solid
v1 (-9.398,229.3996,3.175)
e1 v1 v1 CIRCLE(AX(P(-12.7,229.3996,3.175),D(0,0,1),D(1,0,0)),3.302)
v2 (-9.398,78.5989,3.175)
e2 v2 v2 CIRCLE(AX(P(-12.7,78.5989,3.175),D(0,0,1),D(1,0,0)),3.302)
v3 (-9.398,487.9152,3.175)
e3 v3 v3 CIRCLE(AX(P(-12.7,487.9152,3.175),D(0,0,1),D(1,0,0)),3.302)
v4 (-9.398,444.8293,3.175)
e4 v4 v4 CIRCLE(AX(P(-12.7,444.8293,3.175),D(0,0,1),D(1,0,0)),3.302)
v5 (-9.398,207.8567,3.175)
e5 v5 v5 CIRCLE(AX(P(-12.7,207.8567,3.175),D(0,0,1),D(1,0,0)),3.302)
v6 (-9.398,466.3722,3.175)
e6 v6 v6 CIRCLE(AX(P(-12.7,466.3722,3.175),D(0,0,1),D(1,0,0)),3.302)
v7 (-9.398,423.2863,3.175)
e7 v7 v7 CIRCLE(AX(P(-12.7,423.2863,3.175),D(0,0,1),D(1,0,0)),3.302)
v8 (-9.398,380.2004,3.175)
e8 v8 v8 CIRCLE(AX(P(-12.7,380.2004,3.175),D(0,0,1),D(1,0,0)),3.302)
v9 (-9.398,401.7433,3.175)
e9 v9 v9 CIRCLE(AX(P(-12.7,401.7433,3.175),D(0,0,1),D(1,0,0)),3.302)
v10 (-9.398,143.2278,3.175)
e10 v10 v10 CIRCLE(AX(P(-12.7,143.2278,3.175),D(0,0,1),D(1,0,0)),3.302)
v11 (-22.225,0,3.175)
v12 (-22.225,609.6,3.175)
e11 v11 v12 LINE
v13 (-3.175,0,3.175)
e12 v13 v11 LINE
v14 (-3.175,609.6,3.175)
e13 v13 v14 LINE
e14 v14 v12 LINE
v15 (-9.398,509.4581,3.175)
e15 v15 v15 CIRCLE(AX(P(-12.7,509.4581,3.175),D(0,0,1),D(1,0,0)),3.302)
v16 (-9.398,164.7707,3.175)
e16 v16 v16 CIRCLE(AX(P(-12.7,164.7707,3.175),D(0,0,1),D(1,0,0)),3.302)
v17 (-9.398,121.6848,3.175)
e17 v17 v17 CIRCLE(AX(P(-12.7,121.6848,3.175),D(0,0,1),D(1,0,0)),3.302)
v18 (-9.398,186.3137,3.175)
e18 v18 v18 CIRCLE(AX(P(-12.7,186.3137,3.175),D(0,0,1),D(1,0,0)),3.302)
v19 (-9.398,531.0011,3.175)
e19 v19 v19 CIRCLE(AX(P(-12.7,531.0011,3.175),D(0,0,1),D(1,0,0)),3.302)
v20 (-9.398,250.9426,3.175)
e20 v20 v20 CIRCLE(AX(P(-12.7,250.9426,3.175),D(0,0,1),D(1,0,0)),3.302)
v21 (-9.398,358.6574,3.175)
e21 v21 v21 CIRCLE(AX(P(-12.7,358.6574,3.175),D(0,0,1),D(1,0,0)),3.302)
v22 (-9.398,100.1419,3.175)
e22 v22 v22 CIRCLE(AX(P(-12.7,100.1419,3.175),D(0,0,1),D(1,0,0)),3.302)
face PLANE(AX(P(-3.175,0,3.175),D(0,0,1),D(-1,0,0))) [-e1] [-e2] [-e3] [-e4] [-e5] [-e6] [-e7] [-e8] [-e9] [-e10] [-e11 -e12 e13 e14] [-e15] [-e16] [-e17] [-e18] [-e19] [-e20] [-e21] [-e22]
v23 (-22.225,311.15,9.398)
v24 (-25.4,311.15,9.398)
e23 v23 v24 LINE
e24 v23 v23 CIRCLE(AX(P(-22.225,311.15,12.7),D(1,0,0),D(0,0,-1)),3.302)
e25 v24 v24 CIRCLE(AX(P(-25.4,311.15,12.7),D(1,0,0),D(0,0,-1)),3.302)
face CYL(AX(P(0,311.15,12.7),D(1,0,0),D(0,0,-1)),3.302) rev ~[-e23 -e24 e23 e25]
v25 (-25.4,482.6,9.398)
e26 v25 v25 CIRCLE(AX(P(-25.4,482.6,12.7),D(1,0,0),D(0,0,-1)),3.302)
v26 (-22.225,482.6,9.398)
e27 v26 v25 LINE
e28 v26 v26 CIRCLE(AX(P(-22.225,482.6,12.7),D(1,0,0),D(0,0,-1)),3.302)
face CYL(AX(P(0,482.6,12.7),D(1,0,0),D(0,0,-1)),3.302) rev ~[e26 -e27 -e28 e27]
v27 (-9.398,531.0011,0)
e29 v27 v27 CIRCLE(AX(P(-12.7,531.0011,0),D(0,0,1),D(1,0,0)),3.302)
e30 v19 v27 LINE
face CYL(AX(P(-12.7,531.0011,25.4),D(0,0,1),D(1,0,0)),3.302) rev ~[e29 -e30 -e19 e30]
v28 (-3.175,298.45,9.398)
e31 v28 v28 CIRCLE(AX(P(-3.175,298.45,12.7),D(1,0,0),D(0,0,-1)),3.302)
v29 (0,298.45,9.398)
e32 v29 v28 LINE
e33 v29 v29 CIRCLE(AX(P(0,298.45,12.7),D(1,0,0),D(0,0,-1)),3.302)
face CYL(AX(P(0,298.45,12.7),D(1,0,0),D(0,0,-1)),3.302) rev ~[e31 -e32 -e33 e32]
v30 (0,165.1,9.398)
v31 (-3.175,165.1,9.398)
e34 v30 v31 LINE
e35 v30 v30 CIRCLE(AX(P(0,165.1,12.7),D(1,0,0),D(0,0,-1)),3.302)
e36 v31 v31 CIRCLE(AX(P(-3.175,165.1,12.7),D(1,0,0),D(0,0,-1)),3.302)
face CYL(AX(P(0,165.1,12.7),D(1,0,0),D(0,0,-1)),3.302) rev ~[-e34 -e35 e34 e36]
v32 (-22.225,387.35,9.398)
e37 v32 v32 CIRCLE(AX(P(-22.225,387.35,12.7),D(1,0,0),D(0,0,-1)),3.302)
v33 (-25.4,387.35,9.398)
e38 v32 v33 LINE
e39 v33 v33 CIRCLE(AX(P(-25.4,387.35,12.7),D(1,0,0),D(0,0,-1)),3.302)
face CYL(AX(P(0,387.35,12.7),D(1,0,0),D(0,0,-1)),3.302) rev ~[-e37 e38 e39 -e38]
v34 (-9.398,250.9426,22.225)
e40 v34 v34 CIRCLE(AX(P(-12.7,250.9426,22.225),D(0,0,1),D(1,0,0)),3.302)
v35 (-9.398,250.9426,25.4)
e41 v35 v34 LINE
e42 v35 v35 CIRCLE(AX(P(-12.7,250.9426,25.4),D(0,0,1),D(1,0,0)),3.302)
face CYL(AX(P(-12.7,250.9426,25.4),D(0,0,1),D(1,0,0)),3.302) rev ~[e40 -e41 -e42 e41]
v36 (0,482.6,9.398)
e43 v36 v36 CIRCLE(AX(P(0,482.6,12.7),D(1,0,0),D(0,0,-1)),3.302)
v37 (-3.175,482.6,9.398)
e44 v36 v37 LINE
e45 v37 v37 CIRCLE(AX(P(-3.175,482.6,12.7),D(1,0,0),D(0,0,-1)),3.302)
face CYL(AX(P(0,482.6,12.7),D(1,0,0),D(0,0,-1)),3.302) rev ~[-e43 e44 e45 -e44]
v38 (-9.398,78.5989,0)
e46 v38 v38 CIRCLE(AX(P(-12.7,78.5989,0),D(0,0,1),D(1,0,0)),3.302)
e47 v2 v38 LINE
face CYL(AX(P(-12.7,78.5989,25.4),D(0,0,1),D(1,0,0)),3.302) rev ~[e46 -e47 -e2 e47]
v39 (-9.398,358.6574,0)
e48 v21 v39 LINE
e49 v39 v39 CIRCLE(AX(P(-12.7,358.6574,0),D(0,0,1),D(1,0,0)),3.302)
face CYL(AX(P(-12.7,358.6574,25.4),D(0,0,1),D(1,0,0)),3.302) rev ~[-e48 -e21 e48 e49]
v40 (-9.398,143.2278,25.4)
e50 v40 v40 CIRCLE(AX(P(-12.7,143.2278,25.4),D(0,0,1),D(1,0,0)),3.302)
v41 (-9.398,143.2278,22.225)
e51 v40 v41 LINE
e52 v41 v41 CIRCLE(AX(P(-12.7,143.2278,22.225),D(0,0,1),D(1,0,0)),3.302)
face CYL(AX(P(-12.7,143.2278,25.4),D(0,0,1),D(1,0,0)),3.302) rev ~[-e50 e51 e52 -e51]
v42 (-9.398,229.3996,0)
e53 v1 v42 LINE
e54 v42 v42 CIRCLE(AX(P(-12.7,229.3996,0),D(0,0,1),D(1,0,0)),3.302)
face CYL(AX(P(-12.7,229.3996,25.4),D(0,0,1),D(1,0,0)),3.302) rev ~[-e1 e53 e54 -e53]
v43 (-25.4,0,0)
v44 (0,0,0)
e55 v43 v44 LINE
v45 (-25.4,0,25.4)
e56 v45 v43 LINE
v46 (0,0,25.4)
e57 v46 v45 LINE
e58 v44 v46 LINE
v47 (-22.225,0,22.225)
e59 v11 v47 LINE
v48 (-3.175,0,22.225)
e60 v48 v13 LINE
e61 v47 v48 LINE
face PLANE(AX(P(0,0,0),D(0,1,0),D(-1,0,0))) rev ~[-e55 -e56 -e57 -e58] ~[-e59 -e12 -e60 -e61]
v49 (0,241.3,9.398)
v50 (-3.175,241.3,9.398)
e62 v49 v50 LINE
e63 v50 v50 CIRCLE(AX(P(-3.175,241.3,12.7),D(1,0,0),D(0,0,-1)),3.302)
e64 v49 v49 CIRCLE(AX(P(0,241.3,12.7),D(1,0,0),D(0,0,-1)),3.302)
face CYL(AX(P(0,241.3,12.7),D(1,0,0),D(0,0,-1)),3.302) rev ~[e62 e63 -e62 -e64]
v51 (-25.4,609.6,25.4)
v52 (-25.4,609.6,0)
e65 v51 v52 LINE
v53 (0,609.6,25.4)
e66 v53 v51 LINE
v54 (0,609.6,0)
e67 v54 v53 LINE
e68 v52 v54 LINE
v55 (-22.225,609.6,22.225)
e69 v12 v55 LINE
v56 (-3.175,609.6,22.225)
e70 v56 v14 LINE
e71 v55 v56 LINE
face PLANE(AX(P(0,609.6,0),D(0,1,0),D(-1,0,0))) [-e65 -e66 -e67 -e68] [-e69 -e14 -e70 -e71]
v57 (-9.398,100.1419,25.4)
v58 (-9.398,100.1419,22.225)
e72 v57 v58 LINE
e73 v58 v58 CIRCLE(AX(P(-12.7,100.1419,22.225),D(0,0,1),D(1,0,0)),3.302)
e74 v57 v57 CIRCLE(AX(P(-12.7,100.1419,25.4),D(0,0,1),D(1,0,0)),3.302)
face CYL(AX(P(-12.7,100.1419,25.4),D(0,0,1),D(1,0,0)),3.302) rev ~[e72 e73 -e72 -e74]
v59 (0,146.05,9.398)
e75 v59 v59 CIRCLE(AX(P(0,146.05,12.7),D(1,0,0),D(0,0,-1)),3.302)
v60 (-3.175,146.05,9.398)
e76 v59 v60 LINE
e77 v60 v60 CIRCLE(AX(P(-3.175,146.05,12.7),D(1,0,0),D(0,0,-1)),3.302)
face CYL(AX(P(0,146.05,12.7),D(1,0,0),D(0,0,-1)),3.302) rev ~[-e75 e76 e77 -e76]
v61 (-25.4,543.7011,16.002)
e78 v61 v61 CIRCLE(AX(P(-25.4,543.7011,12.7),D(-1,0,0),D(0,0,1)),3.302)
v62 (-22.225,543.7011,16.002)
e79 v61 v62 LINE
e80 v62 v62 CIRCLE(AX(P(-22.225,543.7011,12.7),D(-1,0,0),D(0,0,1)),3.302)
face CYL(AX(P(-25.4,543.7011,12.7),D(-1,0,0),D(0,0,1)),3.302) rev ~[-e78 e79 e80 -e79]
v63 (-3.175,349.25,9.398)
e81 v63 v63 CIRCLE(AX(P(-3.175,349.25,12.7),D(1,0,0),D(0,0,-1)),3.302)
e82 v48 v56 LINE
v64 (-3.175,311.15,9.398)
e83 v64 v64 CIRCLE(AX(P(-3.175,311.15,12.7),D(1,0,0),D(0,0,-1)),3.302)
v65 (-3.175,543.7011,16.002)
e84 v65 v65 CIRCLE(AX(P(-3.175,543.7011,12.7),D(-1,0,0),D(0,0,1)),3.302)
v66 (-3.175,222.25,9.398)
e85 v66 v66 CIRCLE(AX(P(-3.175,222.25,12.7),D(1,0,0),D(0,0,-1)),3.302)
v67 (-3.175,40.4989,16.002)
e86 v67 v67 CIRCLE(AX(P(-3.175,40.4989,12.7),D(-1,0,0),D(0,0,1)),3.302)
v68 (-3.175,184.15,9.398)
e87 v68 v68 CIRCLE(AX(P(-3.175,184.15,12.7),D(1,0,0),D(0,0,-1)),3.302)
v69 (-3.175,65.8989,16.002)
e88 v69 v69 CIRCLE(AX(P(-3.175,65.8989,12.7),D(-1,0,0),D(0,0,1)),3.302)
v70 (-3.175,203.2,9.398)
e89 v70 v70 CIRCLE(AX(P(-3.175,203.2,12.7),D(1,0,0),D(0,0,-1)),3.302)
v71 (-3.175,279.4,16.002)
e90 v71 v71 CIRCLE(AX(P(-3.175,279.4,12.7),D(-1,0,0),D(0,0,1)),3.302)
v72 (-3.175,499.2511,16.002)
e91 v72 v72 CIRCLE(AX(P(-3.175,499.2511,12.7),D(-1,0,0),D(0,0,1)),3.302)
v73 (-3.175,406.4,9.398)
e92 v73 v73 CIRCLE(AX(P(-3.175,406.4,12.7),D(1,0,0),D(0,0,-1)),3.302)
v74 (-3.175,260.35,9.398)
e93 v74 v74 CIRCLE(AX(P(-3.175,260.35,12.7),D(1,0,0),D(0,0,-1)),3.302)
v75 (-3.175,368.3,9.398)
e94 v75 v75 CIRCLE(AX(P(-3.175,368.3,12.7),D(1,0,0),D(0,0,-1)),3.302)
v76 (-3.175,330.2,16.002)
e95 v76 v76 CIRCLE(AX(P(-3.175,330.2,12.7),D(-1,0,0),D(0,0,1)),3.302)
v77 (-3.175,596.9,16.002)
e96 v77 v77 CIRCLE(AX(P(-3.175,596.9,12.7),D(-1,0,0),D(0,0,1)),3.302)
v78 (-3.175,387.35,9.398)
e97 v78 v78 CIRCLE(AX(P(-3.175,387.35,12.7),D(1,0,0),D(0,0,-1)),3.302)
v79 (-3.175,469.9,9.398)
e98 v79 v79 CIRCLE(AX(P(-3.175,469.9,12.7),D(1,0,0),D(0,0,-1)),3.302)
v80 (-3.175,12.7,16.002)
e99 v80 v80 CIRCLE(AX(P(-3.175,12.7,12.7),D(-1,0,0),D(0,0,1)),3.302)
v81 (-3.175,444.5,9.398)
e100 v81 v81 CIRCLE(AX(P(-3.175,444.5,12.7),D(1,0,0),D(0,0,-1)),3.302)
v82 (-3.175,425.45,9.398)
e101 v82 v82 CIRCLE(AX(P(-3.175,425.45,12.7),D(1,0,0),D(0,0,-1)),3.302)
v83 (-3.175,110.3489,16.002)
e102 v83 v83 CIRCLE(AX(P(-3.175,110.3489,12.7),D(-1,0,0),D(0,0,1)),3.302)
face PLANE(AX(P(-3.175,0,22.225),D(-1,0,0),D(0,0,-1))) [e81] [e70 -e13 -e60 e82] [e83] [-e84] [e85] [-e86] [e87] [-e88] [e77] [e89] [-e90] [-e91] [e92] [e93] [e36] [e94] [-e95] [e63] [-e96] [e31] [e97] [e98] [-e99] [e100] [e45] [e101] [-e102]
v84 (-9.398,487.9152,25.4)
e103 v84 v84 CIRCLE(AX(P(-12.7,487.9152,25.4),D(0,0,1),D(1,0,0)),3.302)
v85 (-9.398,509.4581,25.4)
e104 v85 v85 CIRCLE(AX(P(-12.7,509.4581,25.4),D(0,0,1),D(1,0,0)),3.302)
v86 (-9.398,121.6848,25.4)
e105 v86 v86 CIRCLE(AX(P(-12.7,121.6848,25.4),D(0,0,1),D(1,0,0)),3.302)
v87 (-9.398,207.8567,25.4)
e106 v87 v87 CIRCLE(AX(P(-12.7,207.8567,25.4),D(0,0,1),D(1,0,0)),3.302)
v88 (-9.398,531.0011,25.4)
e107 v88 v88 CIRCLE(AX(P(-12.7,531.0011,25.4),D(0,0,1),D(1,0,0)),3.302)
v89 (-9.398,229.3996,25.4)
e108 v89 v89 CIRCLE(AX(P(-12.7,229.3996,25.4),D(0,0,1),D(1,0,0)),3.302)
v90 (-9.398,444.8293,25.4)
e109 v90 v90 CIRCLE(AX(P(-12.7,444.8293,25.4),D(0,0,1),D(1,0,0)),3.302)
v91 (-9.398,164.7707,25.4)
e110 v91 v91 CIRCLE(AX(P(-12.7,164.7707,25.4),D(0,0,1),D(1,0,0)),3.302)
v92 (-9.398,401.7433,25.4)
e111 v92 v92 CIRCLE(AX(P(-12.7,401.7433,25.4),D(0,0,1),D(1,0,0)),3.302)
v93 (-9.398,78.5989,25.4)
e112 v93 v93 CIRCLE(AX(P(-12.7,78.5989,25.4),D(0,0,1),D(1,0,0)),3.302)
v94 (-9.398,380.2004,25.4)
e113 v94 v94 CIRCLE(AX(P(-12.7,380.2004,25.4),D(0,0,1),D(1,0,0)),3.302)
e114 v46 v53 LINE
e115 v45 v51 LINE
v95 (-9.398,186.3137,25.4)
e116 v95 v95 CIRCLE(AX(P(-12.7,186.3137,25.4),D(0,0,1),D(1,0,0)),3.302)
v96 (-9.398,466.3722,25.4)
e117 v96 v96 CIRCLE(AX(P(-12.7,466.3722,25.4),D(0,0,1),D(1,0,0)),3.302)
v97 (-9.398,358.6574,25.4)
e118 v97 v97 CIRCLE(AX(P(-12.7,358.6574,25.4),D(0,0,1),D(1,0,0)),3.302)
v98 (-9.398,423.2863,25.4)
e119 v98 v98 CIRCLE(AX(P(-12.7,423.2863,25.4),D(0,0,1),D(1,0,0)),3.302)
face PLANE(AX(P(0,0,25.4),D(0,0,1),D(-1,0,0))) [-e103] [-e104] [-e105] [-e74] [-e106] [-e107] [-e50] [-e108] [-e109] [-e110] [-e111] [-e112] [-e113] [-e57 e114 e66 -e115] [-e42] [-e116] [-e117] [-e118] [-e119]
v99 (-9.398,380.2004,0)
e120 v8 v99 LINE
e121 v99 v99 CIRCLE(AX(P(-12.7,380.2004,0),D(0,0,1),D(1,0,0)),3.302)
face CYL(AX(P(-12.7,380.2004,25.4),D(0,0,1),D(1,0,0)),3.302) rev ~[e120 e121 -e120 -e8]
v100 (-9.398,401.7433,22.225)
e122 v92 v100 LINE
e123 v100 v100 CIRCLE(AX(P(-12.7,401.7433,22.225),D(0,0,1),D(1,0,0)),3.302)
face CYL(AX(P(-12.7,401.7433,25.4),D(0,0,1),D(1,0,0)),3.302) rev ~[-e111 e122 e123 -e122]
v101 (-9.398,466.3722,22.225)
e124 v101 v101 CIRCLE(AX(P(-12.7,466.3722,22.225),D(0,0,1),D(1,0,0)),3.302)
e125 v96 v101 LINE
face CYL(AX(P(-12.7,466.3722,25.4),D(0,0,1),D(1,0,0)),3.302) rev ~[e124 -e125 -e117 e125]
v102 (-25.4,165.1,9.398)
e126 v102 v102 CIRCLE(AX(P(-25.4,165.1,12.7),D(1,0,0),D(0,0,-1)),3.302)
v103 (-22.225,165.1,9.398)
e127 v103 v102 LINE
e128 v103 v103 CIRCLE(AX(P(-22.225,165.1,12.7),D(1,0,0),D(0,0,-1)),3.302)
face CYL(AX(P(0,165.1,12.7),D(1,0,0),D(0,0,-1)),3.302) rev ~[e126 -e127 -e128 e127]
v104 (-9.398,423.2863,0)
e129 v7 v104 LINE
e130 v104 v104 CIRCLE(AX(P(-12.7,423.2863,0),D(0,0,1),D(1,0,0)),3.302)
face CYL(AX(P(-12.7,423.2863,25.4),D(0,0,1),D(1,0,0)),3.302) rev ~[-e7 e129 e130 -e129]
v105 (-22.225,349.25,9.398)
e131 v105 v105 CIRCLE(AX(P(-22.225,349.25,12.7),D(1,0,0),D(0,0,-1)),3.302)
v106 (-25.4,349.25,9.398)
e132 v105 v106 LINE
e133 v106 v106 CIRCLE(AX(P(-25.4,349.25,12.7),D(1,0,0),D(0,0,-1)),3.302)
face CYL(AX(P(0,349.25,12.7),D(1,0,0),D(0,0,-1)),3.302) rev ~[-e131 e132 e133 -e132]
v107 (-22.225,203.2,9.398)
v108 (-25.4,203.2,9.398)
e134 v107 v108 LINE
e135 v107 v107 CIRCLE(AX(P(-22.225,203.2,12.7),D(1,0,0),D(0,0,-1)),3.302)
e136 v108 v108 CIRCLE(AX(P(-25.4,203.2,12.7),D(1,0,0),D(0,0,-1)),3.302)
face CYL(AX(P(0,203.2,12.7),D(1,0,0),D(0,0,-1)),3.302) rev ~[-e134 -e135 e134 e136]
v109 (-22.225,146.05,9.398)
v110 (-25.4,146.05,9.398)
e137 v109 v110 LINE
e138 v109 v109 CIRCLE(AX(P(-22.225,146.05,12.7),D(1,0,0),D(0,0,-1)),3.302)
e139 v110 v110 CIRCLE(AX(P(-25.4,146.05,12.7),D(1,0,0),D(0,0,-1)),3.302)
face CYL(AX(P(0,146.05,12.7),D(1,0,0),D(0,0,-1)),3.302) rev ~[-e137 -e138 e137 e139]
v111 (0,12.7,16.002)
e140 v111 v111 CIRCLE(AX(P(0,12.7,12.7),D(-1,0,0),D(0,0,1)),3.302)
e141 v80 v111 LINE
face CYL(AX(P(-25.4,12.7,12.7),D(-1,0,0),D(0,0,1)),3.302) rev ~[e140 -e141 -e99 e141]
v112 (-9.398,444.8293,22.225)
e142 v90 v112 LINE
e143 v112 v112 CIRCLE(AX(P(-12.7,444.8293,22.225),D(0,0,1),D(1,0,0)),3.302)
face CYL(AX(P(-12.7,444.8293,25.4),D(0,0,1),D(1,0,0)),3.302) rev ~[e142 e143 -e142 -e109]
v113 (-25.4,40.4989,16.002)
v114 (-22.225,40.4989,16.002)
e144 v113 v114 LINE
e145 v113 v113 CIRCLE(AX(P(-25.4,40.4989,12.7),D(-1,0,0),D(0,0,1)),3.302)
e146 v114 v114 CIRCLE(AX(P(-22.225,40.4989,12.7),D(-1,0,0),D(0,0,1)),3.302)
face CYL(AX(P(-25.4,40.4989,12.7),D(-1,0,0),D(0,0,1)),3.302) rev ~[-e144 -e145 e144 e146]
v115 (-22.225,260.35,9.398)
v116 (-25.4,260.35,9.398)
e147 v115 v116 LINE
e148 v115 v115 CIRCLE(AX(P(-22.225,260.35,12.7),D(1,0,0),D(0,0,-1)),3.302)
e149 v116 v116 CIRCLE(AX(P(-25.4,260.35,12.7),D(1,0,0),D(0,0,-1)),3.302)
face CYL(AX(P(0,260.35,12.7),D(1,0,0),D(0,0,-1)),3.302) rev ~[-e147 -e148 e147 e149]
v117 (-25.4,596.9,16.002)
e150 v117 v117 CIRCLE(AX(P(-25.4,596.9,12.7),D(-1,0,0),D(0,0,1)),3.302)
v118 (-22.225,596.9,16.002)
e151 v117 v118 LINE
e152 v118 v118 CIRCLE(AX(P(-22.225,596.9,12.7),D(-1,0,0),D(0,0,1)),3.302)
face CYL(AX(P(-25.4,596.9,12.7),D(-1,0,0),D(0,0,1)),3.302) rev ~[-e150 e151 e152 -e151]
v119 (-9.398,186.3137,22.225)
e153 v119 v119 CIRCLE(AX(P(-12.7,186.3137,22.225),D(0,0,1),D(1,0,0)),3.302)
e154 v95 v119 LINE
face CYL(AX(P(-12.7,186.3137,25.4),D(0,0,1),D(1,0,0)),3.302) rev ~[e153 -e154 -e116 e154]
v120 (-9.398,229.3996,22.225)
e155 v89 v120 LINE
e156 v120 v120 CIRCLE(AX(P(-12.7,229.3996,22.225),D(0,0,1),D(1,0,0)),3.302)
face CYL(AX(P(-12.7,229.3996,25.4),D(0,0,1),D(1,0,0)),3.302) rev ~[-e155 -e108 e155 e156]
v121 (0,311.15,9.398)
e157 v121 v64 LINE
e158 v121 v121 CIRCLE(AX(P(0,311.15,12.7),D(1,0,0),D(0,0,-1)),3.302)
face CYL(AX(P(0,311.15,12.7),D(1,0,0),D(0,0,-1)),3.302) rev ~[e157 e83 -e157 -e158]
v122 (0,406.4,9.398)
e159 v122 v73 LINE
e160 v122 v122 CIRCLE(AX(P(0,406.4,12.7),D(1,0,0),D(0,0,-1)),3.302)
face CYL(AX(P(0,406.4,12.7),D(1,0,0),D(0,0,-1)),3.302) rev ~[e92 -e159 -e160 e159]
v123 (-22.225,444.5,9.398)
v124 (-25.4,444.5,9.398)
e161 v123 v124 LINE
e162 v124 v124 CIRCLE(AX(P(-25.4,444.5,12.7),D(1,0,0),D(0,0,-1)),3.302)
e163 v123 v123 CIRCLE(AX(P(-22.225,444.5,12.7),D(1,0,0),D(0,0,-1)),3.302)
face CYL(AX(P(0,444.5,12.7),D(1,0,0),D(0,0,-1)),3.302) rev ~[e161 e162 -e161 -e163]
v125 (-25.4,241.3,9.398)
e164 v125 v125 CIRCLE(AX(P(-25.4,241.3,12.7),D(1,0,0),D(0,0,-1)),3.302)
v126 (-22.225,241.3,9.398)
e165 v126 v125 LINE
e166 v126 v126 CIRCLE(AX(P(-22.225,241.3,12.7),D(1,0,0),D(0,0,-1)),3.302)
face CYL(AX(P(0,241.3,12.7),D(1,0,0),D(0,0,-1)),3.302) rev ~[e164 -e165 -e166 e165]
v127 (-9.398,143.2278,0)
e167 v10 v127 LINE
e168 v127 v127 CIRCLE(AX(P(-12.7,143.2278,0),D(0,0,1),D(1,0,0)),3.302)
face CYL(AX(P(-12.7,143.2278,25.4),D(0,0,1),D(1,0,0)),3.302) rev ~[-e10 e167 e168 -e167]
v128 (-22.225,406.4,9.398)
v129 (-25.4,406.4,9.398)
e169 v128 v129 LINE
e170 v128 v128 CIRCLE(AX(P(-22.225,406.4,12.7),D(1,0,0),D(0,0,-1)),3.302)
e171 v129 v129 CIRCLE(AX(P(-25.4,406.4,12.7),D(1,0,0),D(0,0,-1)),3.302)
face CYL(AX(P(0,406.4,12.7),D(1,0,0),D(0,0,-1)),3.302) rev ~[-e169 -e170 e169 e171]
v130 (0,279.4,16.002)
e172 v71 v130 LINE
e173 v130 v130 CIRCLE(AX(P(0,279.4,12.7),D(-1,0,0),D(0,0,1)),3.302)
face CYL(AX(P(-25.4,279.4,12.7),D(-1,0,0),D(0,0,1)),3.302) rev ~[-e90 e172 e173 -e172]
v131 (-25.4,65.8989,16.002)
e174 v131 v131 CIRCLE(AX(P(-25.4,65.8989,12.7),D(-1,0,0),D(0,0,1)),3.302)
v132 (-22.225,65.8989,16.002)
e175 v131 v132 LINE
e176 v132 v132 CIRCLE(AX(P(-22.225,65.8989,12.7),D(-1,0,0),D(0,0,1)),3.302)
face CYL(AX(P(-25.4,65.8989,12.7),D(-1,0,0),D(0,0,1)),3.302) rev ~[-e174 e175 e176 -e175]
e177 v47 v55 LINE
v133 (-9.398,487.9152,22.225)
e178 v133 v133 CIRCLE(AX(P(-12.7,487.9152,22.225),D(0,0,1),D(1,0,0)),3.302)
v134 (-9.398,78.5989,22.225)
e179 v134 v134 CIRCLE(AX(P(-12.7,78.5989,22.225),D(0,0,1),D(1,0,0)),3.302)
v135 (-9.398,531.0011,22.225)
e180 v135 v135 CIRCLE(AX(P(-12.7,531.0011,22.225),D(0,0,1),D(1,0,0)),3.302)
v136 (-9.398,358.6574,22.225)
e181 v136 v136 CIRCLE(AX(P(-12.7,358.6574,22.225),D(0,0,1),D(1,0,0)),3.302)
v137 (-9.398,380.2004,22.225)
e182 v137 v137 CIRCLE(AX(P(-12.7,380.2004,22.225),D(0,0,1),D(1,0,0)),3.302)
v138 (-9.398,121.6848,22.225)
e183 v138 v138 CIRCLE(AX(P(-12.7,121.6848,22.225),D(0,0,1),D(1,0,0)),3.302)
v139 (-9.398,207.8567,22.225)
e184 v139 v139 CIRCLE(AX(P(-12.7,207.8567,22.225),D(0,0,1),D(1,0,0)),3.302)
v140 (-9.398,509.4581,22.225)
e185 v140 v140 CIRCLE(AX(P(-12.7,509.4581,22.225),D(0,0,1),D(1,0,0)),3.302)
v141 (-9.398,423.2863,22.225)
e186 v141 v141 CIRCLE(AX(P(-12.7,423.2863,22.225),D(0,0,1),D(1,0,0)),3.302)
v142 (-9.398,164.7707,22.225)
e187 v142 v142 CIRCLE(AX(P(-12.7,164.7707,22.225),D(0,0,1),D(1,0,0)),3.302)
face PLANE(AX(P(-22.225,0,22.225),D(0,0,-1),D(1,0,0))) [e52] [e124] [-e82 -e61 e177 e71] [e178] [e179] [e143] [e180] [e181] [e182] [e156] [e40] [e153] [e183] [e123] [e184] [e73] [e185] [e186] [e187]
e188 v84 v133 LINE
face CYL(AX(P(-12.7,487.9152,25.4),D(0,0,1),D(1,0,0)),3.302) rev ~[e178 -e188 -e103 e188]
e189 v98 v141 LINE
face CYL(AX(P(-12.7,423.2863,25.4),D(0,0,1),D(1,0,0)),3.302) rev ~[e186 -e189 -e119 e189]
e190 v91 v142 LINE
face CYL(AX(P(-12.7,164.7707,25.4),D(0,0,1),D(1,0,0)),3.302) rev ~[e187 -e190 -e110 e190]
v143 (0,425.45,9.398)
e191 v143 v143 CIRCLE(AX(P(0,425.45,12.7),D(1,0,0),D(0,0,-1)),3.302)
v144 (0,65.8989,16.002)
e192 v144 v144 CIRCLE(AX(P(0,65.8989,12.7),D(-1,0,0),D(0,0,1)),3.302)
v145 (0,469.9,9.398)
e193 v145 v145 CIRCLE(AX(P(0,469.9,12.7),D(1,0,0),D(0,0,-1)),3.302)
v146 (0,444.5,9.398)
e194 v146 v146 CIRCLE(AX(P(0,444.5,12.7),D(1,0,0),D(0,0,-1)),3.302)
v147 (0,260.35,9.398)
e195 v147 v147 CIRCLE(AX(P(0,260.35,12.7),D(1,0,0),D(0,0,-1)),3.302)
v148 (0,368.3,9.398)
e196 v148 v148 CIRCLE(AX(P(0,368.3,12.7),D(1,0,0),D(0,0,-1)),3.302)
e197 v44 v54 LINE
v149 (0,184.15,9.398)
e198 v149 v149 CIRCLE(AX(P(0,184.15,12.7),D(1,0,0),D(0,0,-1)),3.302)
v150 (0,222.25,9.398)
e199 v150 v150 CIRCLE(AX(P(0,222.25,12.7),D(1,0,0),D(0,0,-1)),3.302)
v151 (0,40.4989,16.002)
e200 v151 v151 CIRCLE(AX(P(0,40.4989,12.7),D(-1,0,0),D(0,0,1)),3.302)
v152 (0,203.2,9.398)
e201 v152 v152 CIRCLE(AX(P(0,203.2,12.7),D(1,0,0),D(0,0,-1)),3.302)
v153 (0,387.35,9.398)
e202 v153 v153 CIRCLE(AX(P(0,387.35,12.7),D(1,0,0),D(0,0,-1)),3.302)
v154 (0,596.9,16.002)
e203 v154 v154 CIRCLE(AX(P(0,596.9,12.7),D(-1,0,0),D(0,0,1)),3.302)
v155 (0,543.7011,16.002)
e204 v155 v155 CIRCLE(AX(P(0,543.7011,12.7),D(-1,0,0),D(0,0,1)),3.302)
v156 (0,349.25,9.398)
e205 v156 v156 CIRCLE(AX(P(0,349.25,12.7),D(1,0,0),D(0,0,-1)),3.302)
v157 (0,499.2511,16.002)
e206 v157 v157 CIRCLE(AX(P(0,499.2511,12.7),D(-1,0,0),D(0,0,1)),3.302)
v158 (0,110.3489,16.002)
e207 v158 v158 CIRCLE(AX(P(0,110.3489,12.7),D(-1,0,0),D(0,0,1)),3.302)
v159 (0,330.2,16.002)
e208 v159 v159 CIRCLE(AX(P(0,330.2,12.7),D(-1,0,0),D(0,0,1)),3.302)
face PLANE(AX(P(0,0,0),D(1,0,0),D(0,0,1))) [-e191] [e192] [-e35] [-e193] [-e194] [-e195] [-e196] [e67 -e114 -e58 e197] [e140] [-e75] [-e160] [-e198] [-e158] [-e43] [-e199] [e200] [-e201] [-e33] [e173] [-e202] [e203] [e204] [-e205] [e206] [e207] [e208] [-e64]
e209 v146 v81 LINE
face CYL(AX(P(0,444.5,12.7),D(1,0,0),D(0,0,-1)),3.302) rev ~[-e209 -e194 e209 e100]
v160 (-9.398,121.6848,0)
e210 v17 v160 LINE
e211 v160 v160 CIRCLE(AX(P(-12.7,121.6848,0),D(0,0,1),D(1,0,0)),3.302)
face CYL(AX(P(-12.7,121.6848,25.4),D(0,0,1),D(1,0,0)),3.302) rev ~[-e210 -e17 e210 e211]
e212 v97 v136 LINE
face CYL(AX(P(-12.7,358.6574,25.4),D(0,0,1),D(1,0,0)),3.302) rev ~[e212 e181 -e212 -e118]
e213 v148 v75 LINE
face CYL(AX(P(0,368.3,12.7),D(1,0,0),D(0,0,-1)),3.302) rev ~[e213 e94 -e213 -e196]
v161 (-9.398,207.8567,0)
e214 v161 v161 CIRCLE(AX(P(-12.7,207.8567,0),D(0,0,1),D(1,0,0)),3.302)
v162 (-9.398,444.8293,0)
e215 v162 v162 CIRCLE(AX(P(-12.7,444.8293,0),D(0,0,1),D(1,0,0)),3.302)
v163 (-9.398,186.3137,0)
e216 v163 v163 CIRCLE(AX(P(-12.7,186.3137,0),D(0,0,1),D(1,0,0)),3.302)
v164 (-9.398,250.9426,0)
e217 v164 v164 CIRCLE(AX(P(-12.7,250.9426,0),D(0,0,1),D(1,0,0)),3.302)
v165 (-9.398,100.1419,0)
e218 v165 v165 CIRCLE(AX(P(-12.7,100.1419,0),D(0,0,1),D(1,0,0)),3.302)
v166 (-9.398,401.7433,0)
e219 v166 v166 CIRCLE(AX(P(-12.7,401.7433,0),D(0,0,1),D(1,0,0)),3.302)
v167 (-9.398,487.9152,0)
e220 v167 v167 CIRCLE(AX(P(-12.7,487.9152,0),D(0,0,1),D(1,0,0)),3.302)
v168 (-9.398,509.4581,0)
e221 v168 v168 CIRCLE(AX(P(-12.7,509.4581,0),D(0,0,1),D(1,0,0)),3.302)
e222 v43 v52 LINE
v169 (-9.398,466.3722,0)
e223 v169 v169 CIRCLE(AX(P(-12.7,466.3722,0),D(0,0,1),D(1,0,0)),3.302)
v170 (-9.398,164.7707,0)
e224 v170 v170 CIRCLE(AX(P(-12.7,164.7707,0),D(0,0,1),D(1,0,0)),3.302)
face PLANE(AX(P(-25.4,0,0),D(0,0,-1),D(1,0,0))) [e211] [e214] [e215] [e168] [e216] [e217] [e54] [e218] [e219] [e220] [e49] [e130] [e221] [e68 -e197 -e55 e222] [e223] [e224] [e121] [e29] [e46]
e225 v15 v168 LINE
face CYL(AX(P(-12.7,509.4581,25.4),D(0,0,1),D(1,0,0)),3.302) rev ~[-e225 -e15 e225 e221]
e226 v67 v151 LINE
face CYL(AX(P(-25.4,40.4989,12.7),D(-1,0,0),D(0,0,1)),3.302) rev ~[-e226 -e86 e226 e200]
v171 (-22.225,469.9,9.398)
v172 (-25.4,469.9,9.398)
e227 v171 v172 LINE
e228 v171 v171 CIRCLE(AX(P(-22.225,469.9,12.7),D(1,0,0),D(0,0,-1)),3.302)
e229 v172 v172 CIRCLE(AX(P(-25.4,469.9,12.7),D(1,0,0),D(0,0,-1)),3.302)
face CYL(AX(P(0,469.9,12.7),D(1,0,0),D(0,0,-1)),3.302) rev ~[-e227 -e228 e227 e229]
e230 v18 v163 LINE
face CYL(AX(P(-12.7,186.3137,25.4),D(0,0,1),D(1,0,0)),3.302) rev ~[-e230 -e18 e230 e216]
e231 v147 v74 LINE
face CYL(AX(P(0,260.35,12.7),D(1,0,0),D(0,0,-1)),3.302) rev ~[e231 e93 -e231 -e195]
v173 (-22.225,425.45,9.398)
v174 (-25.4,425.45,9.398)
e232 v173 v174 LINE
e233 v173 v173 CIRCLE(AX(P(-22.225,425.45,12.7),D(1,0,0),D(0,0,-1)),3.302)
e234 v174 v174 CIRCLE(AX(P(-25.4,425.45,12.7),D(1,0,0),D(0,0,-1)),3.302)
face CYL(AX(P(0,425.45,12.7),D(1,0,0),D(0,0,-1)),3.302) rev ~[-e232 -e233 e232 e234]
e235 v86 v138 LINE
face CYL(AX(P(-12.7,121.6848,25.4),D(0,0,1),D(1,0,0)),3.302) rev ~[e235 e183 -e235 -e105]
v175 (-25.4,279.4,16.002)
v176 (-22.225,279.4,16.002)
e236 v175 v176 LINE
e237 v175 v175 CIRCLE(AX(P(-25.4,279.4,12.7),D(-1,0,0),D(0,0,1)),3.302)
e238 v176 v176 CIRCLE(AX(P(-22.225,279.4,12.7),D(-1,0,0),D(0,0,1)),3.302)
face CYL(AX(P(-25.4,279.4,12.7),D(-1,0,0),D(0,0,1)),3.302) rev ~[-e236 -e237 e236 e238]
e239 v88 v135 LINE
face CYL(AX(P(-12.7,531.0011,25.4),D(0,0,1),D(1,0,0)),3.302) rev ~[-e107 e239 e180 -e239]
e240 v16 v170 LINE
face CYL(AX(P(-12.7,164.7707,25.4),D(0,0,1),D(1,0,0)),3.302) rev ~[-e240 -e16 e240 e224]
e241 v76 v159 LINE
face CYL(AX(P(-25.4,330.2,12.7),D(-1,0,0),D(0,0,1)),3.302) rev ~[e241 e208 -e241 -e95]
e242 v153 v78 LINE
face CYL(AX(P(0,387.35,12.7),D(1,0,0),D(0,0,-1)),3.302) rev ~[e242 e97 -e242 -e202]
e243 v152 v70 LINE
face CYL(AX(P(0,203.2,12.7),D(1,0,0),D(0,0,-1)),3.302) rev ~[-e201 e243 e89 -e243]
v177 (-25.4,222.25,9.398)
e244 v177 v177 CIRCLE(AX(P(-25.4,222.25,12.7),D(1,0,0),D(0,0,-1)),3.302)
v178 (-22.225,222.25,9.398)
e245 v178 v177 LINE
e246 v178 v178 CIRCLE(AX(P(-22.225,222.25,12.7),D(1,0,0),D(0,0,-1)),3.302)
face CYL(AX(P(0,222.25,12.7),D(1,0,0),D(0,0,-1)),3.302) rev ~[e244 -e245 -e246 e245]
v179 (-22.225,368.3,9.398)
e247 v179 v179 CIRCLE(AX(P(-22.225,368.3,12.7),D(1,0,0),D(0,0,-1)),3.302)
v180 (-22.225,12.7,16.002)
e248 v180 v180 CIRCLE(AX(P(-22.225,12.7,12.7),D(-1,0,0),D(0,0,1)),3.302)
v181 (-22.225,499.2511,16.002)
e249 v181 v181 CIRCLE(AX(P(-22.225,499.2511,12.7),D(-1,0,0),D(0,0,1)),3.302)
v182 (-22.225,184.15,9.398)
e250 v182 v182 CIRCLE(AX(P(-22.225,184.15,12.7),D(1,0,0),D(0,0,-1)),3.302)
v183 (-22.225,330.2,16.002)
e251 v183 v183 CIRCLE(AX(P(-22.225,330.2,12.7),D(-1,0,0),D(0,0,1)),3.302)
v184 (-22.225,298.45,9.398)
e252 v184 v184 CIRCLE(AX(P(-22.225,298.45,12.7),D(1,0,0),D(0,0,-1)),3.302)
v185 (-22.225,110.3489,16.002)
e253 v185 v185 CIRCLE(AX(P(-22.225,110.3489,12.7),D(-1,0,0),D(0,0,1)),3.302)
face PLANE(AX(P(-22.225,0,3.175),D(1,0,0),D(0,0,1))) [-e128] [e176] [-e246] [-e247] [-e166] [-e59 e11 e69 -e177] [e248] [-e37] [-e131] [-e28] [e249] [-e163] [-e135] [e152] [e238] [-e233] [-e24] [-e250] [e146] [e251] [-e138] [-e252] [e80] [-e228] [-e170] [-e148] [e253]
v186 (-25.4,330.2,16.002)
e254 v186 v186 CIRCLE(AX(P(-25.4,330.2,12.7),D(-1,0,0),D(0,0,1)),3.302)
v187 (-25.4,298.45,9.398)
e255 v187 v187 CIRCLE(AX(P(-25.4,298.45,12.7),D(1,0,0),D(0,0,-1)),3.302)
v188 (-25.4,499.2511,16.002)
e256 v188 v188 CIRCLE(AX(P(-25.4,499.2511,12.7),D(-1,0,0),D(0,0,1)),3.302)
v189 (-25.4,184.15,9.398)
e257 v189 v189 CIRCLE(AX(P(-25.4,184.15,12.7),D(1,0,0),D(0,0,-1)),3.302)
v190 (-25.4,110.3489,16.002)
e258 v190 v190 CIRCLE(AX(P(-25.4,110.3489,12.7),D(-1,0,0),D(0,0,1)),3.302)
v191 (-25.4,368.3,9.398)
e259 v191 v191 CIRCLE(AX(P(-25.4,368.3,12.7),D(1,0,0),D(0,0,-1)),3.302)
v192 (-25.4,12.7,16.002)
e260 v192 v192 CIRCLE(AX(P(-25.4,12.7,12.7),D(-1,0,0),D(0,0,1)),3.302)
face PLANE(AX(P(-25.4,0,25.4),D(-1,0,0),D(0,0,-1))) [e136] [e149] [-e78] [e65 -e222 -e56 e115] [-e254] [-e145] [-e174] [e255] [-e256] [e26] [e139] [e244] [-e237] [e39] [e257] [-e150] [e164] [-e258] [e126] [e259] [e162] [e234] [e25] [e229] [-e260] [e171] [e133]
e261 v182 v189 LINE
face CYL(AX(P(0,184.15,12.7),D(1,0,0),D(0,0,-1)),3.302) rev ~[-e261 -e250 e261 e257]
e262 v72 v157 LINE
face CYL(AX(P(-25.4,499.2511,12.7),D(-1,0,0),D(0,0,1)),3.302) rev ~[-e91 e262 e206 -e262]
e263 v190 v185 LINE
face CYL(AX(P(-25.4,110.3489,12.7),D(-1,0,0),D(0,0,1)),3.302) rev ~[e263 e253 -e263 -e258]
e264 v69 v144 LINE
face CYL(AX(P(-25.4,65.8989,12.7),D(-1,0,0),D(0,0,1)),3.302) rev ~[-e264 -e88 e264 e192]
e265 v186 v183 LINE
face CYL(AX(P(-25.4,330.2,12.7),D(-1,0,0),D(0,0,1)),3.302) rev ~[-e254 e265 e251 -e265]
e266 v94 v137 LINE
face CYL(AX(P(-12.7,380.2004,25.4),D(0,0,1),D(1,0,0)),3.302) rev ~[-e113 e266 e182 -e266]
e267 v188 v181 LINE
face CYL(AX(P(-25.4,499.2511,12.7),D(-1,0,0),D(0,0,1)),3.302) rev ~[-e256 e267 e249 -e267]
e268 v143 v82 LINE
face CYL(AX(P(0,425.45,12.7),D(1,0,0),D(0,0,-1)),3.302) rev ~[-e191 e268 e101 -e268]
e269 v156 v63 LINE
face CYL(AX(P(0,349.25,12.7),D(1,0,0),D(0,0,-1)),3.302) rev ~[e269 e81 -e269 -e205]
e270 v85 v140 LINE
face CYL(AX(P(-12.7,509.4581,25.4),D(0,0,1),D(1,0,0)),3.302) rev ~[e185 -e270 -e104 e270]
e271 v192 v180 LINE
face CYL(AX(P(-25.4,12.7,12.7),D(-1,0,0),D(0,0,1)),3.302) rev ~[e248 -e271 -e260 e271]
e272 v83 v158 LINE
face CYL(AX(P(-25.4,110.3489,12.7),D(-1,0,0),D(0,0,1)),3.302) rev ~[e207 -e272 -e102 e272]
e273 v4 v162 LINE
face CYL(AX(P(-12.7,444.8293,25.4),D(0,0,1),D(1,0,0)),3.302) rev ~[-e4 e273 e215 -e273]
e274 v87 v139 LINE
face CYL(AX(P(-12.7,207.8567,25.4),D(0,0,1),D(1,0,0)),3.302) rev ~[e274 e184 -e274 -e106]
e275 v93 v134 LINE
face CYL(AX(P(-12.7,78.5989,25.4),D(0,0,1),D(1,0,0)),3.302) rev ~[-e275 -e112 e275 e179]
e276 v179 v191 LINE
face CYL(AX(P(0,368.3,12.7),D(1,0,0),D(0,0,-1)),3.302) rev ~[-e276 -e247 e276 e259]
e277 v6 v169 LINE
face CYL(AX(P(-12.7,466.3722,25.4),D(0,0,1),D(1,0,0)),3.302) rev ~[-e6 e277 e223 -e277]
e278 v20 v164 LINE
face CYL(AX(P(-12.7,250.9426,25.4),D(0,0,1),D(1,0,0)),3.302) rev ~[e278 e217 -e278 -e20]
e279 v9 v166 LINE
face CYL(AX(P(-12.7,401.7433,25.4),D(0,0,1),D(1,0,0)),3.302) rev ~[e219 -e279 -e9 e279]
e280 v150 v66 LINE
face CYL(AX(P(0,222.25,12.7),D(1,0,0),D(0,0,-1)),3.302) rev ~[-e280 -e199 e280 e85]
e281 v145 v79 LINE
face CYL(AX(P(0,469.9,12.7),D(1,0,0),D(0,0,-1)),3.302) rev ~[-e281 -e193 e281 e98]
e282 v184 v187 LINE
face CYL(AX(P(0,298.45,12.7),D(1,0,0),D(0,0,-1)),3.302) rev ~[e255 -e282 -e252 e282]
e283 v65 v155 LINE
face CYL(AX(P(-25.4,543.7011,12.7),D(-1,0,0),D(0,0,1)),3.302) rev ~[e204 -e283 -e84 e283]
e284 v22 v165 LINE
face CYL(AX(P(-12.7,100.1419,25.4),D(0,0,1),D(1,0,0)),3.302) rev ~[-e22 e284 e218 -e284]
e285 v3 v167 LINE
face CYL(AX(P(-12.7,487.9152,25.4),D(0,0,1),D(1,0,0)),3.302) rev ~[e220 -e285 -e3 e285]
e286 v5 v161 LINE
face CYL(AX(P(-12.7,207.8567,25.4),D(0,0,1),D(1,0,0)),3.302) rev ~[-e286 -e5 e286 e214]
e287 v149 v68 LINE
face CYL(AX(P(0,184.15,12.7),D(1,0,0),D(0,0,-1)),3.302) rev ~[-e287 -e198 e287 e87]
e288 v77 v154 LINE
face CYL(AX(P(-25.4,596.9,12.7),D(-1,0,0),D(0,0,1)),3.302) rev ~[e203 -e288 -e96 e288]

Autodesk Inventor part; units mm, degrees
ref_plane "YZ Plane" through (0, 0, 0) normal (1, 0, 0) x (0, 1, 0)
ref_plane "XZ Plane" through (0, 0, 0) normal (0, 1, 0) x (-1, 0, 0)
ref_plane "XY Plane" through (0, 0, 0) normal (0, 0, 1) x (1, 0, 0)
sketch "Sketch1" plane through (0, 0, 0) normal (0, 1, 0) x (-1, 0, 0)
  line L0 (0, 25.4) -> (25.4, 25.4)
  line L1 (25.4, 25.4) -> (25.4, 0)
  line L2 (25.4, 0) -> (0, 0)
  line L3 (0, 0) -> (0, 25.4)
  line L4 (22.225, 22.225) -> (3.175, 22.225)
  line L5 (3.175, 22.225) -> (3.175, 3.175)
  line L6 (3.175, 3.175) -> (22.225, 3.175)
  line L7 (22.225, 3.175) -> (22.225, 22.225)
  dimension "d0" = 25.4
  dimension "d1" = 25.4
  dimension "d2" = 3.175
extrude "Extrusion1" add sketch "Sketch1" along normal blind 609.6
sketch "Sketch2" plane through (-25.4, 0, 25.4) normal (0, 0, 1) x (1, 0, 0)
  line L0 (25.4, 0) -> (0, 0) projected
  line L1 (0, 609.6) -> (25.4, 609.6) projected
  line L2 (12.7, 609.6) -> (12.7, 0) construction
  line L3 (12.7, 0) -> (12.7, 13.97) construction
  circle A0 centre (12.7, 13.97) radius 3.302
  circle A1 centre (12.7, 35.513) radius 3.302
  circle A2 centre (12.7, 57.0559) radius 3.302
  circle A3 centre (12.7, 78.5989) radius 3.302
  circle A4 centre (12.7, 100.1419) radius 3.302
  circle A5 centre (12.7, 121.6848) radius 3.302
  circle A6 centre (12.7, 143.2278) radius 3.302
  circle A7 centre (12.7, 164.7707) radius 3.302
  circle A8 centre (12.7, 186.3137) radius 3.302
  circle A9 centre (12.7, 207.8567) radius 3.302
  circle A10 centre (12.7, 229.3996) radius 3.302
  circle A11 centre (12.7, 250.9426) radius 3.302
  circle A12 centre (12.7, 272.4856) radius 3.302
  circle A13 centre (12.7, 294.0285) radius 3.302
  circle A14 centre (12.7, 315.5715) radius 3.302
  circle A15 centre (12.7, 337.1144) radius 3.302
  circle A16 centre (12.7, 358.6574) radius 3.302
  circle A17 centre (12.7, 380.2004) radius 3.302
  circle A18 centre (12.7, 401.7433) radius 3.302
  circle A19 centre (12.7, 423.2863) radius 3.302
  circle A20 centre (12.7, 444.8293) radius 3.302
  circle A21 centre (12.7, 466.3722) radius 3.302
  circle A22 centre (12.7, 487.9152) radius 3.302
  circle A23 centre (12.7, 509.4581) radius 3.302
  circle A24 centre (12.7, 531.0011) radius 3.302
  circle A25 centre (12.7, 552.5441) radius 3.302
  circle A26 centre (12.7, 574.087) radius 3.302
  circle A27 centre (12.7, 595.63) radius 3.302
  dimension "d5" = 13.97
  dimension "d6" = 6.604
  dimension "d7" = 609.6
  dimension "d10" = 21.543
extrude "Extrusion2" cut sketch "Sketch2" against normal through all contours A3 | A4 | A5 | A6 | A7 | A8 | A9 | A10 | A11 | A16 | A17 | A18 | A19 | A20 | A21 | A22 | A23 | A24
sketch "Sketch3" plane through (-25.4, 0, 0) normal (-1, 0, 0) x (0, 0, 1)
  line L0 (25.4, 0) -> (25.4, 609.6) projected
  line L1 (0, 0) -> (0, 609.6) projected
  line L2 (0, 229.3996) -> (25.4, 229.3996) construction
  line L3 (12.7, 543.7011) -> (12.7, 499.2511) construction
  line L4 (12.7, 405.6004) -> (12.7, 354.8004) construction
  line L5 (12.7, 251.6246) -> (12.7, 207.1746) construction
  line L6 (12.7, 110.3489) -> (12.7, 65.8989) construction
  circle A0 centre (12.7, 543.7011) radius 3.302
  circle A1 centre (12.7, 499.2511) radius 3.302
  circle A2 centre (12.7, 405.6004) radius 3.302
  circle A3 centre (12.7, 354.8004) radius 3.302
  circle A4 centre (12.7, 251.6246) radius 3.302
  circle A5 centre (12.7, 207.1746) radius 3.302 construction
  circle A6 centre (12.7, 110.3489) radius 3.302
  circle A7 centre (12.7, 65.8989) radius 3.302
  line L7 (0, 304.8) -> (25.4, 304.8) construction
  line L8 (12.7, 330.2) -> (12.7, 279.4) construction
  circle A8 centre (12.7, 330.2) radius 3.302
  circle A9 centre (12.7, 279.4) radius 3.302
  line L9 (25.4, 0) -> (0, 0) projected
  line L10 (0, 609.6) -> (25.4, 609.6) projected
  circle A10 centre (12.7, 596.9) radius 3.302
  line L11 (12.7, 596.9) -> (12.7, 609.6) construction
  line L12 (12.7, 0) -> (12.7, 12.7) construction
  circle A11 centre (12.7, 12.7) radius 3.302
  line L13 (0, 88.1239) -> (25.4, 88.1239) construction
  line L14 (0, 521.4761) -> (25.4, 521.4761) construction
  line L15 (12.7, 12.7) -> (12.7, 40.4989) construction
  circle A12 centre (12.7, 40.4989) radius 3.302
  line L16 (0, 13.97) -> (25.4, 13.97) construction
  line L17 (0, 35.513) -> (25.4, 35.513) construction
  line L18 (0, 57.0559) -> (25.4, 57.0559) construction
  line L19 (0, 78.5989) -> (25.4, 78.5989) construction
  line L20 (0, 100.1419) -> (25.4, 100.1419) construction
  line L21 (0, 121.6848) -> (25.4, 121.6848) construction
  line L22 (0, 143.2278) -> (25.4, 143.2278) construction
  line L23 (0, 164.7707) -> (25.4, 164.7707) construction
  line L24 (0, 186.3137) -> (25.4, 186.3137) construction
  line L25 (0, 207.8567) -> (25.4, 207.8567) construction
  line L26 (0, 229.3996) -> (25.4, 229.3996) construction
  line L27 (0, 250.9426) -> (25.4, 250.9426) construction
  line L28 (0, 272.4856) -> (25.4, 272.4856) construction
  line L29 (0, 294.0285) -> (25.4, 294.0285) construction
  line L30 (0, 315.5715) -> (25.4, 315.5715) construction
  line L31 (0, 337.1144) -> (25.4, 337.1144) construction
  line L32 (0, 358.6574) -> (25.4, 358.6574) construction
  line L33 (0, 380.2004) -> (25.4, 380.2004) construction
  line L34 (0, 401.7433) -> (25.4, 401.7433) construction
  line L35 (0, 423.2863) -> (25.4, 423.2863) construction
  line L36 (0, 444.8293) -> (25.4, 444.8293) construction
  line L37 (0, 466.3722) -> (25.4, 466.3722) construction
  line L38 (0, 487.9152) -> (25.4, 487.9152) construction
  line L39 (0, 509.4581) -> (25.4, 509.4581) construction
  line L40 (0, 531.0011) -> (25.4, 531.0011) construction
  line L41 (0, 552.5441) -> (25.4, 552.5441) construction
  line L42 (0, 574.087) -> (25.4, 574.087) construction
  line L43 (0, 595.63) -> (25.4, 595.63) construction
  line L44 (3.175, 534.3031) -> (3.175, 527.6991) projected
  line L45 (3.175, 383.5024) -> (3.175, 376.8984) projected
  line L46 (3.175, 81.9009) -> (3.175, 75.2969) projected
  line L47 (3.175, 232.7016) -> (3.175, 226.0976) projected
  point P0 (12.7, 304.8)
  point P1 (12.7, 88.1239)
  point P2 (12.7, 521.4761)
  point P3 (12.7, 380.2004)
  point P4 (12.7, 229.3996)
  dimension "d17" = 44.45
  dimension "d18" = 50.8
  dimension "d19" = 44.45
  dimension "d20" = 44.45
  dimension "d21" = 6.604
  dimension "d22" = 6.604
  dimension "d23" = 6.604
  dimension "d24" = 6.604
  dimension "d25" = 6.604
  dimension "d26" = 6.604
  dimension "d27" = 6.604
  dimension "d28" = 6.604
  dimension "d31" = 50.8
  dimension "d32" = 6.604
  dimension "d33" = 6.604
  dimension "d40" = 12.7
  dimension "d41" = 6.604
  dimension "d42" = 12.7
  dimension "d43" = 6.604
  dimension "d64" = 25.4
  dimension "d65" = 6.604
  dimension "d66" = 13.97
  dimension "d67" = 609.6
  dimension "d70" = 21.543
  dimension "d76" = 9.525
  dimension "d77" = 9.525
extrude "Extrusion3" cut sketch "Sketch3" against normal through all contours A0 | A1 | A6 | A7 | A8 | A9 | A10 | A11 | A12
sketch "Sketch4" plane through (0, 0, 25.4) normal (1, 0, 0) x (0, 0, -1)
  circle A0 centre (12.7, 330.2) radius 3.302 construction
  circle A1 centre (12.7, 279.4) radius 3.302 construction
  line L0 (0, 0) -> (0, 609.6) projected
  line L1 (12.7, 330.2) -> (12.7, 349.25) construction
  line L2 (12.7, 279.4) -> (12.7, 260.35) construction
  circle A2 centre (12.7, 349.25) radius 3.302
  circle A3 centre (12.7, 260.35) radius 3.302
  line L3 (25.4, 0) -> (0, 0) projected
  line L4 (0, 609.6) -> (25.4, 609.6) projected
  line L5 (12.7, 609.6) -> (12.7, 0) construction
  circle A4 centre (12.7, 469.9) radius 3.302
  circle A5 centre (12.7, 482.6) radius 3.302
  circle A6 centre (12.7, 241.3) radius 3.302
  circle A7 centre (12.7, 222.25) radius 3.302
  circle A8 centre (12.7, 203.2) radius 3.302
  circle A9 centre (12.7, 184.15) radius 3.302
  circle A10 centre (12.7, 165.1) radius 3.302
  circle A11 centre (12.7, 368.3) radius 3.302
  circle A12 centre (12.7, 387.35) radius 3.302
  circle A13 centre (12.7, 406.4) radius 3.302
  circle A14 centre (12.7, 425.45) radius 3.302
  circle A15 centre (12.7, 444.5) radius 3.302
  circle A16 centre (12.7, 146.05) radius 3.302
  circle A17 centre (12.7, 298.45) radius 3.302
  circle A18 centre (12.7, 311.15) radius 3.302
  dimension "d46" = 19.05
  dimension "d47" = 19.05
  dimension "d48" = 6.604
  dimension "d49" = 6.604
  dimension "d52" = 6.604
  dimension "d53" = 139.7
  dimension "d85" = 12.7
  dimension "d88" = 19.05
  dimension "d95" = 19.05
  dimension "d100" = 19.05
  dimension "d101" = 19.05
extrude "Extrusion4" cut sketch "Sketch4" against normal blind 25.4
equation "\"d19\" = d17"
equation "\"d20\" = d17"
equation "\"d22\" = d21"
equation "\"d23\" = d21"
equation "\"d24\" = d21"
equation "\"d25\" = d21"
equation "\"d26\" = d21"
equation "\"d27\" = d21"
equation "\"d28\" = d21"
equation "\"d31\" = d18"
equation "\"d32\" = d21"
equation "\"d33\" = d21"
equation "\"d41\" = d21"
equation "\"d42\" = d40"
equation "\"d43\" = d21"
equation "\"d70\" = -0.0740741 * d66 + 0.037037 * d67"
equation "\"d76\" = d77"
properties part number "Chassis Part4 (26x28)" material "Aluminum 6061"
